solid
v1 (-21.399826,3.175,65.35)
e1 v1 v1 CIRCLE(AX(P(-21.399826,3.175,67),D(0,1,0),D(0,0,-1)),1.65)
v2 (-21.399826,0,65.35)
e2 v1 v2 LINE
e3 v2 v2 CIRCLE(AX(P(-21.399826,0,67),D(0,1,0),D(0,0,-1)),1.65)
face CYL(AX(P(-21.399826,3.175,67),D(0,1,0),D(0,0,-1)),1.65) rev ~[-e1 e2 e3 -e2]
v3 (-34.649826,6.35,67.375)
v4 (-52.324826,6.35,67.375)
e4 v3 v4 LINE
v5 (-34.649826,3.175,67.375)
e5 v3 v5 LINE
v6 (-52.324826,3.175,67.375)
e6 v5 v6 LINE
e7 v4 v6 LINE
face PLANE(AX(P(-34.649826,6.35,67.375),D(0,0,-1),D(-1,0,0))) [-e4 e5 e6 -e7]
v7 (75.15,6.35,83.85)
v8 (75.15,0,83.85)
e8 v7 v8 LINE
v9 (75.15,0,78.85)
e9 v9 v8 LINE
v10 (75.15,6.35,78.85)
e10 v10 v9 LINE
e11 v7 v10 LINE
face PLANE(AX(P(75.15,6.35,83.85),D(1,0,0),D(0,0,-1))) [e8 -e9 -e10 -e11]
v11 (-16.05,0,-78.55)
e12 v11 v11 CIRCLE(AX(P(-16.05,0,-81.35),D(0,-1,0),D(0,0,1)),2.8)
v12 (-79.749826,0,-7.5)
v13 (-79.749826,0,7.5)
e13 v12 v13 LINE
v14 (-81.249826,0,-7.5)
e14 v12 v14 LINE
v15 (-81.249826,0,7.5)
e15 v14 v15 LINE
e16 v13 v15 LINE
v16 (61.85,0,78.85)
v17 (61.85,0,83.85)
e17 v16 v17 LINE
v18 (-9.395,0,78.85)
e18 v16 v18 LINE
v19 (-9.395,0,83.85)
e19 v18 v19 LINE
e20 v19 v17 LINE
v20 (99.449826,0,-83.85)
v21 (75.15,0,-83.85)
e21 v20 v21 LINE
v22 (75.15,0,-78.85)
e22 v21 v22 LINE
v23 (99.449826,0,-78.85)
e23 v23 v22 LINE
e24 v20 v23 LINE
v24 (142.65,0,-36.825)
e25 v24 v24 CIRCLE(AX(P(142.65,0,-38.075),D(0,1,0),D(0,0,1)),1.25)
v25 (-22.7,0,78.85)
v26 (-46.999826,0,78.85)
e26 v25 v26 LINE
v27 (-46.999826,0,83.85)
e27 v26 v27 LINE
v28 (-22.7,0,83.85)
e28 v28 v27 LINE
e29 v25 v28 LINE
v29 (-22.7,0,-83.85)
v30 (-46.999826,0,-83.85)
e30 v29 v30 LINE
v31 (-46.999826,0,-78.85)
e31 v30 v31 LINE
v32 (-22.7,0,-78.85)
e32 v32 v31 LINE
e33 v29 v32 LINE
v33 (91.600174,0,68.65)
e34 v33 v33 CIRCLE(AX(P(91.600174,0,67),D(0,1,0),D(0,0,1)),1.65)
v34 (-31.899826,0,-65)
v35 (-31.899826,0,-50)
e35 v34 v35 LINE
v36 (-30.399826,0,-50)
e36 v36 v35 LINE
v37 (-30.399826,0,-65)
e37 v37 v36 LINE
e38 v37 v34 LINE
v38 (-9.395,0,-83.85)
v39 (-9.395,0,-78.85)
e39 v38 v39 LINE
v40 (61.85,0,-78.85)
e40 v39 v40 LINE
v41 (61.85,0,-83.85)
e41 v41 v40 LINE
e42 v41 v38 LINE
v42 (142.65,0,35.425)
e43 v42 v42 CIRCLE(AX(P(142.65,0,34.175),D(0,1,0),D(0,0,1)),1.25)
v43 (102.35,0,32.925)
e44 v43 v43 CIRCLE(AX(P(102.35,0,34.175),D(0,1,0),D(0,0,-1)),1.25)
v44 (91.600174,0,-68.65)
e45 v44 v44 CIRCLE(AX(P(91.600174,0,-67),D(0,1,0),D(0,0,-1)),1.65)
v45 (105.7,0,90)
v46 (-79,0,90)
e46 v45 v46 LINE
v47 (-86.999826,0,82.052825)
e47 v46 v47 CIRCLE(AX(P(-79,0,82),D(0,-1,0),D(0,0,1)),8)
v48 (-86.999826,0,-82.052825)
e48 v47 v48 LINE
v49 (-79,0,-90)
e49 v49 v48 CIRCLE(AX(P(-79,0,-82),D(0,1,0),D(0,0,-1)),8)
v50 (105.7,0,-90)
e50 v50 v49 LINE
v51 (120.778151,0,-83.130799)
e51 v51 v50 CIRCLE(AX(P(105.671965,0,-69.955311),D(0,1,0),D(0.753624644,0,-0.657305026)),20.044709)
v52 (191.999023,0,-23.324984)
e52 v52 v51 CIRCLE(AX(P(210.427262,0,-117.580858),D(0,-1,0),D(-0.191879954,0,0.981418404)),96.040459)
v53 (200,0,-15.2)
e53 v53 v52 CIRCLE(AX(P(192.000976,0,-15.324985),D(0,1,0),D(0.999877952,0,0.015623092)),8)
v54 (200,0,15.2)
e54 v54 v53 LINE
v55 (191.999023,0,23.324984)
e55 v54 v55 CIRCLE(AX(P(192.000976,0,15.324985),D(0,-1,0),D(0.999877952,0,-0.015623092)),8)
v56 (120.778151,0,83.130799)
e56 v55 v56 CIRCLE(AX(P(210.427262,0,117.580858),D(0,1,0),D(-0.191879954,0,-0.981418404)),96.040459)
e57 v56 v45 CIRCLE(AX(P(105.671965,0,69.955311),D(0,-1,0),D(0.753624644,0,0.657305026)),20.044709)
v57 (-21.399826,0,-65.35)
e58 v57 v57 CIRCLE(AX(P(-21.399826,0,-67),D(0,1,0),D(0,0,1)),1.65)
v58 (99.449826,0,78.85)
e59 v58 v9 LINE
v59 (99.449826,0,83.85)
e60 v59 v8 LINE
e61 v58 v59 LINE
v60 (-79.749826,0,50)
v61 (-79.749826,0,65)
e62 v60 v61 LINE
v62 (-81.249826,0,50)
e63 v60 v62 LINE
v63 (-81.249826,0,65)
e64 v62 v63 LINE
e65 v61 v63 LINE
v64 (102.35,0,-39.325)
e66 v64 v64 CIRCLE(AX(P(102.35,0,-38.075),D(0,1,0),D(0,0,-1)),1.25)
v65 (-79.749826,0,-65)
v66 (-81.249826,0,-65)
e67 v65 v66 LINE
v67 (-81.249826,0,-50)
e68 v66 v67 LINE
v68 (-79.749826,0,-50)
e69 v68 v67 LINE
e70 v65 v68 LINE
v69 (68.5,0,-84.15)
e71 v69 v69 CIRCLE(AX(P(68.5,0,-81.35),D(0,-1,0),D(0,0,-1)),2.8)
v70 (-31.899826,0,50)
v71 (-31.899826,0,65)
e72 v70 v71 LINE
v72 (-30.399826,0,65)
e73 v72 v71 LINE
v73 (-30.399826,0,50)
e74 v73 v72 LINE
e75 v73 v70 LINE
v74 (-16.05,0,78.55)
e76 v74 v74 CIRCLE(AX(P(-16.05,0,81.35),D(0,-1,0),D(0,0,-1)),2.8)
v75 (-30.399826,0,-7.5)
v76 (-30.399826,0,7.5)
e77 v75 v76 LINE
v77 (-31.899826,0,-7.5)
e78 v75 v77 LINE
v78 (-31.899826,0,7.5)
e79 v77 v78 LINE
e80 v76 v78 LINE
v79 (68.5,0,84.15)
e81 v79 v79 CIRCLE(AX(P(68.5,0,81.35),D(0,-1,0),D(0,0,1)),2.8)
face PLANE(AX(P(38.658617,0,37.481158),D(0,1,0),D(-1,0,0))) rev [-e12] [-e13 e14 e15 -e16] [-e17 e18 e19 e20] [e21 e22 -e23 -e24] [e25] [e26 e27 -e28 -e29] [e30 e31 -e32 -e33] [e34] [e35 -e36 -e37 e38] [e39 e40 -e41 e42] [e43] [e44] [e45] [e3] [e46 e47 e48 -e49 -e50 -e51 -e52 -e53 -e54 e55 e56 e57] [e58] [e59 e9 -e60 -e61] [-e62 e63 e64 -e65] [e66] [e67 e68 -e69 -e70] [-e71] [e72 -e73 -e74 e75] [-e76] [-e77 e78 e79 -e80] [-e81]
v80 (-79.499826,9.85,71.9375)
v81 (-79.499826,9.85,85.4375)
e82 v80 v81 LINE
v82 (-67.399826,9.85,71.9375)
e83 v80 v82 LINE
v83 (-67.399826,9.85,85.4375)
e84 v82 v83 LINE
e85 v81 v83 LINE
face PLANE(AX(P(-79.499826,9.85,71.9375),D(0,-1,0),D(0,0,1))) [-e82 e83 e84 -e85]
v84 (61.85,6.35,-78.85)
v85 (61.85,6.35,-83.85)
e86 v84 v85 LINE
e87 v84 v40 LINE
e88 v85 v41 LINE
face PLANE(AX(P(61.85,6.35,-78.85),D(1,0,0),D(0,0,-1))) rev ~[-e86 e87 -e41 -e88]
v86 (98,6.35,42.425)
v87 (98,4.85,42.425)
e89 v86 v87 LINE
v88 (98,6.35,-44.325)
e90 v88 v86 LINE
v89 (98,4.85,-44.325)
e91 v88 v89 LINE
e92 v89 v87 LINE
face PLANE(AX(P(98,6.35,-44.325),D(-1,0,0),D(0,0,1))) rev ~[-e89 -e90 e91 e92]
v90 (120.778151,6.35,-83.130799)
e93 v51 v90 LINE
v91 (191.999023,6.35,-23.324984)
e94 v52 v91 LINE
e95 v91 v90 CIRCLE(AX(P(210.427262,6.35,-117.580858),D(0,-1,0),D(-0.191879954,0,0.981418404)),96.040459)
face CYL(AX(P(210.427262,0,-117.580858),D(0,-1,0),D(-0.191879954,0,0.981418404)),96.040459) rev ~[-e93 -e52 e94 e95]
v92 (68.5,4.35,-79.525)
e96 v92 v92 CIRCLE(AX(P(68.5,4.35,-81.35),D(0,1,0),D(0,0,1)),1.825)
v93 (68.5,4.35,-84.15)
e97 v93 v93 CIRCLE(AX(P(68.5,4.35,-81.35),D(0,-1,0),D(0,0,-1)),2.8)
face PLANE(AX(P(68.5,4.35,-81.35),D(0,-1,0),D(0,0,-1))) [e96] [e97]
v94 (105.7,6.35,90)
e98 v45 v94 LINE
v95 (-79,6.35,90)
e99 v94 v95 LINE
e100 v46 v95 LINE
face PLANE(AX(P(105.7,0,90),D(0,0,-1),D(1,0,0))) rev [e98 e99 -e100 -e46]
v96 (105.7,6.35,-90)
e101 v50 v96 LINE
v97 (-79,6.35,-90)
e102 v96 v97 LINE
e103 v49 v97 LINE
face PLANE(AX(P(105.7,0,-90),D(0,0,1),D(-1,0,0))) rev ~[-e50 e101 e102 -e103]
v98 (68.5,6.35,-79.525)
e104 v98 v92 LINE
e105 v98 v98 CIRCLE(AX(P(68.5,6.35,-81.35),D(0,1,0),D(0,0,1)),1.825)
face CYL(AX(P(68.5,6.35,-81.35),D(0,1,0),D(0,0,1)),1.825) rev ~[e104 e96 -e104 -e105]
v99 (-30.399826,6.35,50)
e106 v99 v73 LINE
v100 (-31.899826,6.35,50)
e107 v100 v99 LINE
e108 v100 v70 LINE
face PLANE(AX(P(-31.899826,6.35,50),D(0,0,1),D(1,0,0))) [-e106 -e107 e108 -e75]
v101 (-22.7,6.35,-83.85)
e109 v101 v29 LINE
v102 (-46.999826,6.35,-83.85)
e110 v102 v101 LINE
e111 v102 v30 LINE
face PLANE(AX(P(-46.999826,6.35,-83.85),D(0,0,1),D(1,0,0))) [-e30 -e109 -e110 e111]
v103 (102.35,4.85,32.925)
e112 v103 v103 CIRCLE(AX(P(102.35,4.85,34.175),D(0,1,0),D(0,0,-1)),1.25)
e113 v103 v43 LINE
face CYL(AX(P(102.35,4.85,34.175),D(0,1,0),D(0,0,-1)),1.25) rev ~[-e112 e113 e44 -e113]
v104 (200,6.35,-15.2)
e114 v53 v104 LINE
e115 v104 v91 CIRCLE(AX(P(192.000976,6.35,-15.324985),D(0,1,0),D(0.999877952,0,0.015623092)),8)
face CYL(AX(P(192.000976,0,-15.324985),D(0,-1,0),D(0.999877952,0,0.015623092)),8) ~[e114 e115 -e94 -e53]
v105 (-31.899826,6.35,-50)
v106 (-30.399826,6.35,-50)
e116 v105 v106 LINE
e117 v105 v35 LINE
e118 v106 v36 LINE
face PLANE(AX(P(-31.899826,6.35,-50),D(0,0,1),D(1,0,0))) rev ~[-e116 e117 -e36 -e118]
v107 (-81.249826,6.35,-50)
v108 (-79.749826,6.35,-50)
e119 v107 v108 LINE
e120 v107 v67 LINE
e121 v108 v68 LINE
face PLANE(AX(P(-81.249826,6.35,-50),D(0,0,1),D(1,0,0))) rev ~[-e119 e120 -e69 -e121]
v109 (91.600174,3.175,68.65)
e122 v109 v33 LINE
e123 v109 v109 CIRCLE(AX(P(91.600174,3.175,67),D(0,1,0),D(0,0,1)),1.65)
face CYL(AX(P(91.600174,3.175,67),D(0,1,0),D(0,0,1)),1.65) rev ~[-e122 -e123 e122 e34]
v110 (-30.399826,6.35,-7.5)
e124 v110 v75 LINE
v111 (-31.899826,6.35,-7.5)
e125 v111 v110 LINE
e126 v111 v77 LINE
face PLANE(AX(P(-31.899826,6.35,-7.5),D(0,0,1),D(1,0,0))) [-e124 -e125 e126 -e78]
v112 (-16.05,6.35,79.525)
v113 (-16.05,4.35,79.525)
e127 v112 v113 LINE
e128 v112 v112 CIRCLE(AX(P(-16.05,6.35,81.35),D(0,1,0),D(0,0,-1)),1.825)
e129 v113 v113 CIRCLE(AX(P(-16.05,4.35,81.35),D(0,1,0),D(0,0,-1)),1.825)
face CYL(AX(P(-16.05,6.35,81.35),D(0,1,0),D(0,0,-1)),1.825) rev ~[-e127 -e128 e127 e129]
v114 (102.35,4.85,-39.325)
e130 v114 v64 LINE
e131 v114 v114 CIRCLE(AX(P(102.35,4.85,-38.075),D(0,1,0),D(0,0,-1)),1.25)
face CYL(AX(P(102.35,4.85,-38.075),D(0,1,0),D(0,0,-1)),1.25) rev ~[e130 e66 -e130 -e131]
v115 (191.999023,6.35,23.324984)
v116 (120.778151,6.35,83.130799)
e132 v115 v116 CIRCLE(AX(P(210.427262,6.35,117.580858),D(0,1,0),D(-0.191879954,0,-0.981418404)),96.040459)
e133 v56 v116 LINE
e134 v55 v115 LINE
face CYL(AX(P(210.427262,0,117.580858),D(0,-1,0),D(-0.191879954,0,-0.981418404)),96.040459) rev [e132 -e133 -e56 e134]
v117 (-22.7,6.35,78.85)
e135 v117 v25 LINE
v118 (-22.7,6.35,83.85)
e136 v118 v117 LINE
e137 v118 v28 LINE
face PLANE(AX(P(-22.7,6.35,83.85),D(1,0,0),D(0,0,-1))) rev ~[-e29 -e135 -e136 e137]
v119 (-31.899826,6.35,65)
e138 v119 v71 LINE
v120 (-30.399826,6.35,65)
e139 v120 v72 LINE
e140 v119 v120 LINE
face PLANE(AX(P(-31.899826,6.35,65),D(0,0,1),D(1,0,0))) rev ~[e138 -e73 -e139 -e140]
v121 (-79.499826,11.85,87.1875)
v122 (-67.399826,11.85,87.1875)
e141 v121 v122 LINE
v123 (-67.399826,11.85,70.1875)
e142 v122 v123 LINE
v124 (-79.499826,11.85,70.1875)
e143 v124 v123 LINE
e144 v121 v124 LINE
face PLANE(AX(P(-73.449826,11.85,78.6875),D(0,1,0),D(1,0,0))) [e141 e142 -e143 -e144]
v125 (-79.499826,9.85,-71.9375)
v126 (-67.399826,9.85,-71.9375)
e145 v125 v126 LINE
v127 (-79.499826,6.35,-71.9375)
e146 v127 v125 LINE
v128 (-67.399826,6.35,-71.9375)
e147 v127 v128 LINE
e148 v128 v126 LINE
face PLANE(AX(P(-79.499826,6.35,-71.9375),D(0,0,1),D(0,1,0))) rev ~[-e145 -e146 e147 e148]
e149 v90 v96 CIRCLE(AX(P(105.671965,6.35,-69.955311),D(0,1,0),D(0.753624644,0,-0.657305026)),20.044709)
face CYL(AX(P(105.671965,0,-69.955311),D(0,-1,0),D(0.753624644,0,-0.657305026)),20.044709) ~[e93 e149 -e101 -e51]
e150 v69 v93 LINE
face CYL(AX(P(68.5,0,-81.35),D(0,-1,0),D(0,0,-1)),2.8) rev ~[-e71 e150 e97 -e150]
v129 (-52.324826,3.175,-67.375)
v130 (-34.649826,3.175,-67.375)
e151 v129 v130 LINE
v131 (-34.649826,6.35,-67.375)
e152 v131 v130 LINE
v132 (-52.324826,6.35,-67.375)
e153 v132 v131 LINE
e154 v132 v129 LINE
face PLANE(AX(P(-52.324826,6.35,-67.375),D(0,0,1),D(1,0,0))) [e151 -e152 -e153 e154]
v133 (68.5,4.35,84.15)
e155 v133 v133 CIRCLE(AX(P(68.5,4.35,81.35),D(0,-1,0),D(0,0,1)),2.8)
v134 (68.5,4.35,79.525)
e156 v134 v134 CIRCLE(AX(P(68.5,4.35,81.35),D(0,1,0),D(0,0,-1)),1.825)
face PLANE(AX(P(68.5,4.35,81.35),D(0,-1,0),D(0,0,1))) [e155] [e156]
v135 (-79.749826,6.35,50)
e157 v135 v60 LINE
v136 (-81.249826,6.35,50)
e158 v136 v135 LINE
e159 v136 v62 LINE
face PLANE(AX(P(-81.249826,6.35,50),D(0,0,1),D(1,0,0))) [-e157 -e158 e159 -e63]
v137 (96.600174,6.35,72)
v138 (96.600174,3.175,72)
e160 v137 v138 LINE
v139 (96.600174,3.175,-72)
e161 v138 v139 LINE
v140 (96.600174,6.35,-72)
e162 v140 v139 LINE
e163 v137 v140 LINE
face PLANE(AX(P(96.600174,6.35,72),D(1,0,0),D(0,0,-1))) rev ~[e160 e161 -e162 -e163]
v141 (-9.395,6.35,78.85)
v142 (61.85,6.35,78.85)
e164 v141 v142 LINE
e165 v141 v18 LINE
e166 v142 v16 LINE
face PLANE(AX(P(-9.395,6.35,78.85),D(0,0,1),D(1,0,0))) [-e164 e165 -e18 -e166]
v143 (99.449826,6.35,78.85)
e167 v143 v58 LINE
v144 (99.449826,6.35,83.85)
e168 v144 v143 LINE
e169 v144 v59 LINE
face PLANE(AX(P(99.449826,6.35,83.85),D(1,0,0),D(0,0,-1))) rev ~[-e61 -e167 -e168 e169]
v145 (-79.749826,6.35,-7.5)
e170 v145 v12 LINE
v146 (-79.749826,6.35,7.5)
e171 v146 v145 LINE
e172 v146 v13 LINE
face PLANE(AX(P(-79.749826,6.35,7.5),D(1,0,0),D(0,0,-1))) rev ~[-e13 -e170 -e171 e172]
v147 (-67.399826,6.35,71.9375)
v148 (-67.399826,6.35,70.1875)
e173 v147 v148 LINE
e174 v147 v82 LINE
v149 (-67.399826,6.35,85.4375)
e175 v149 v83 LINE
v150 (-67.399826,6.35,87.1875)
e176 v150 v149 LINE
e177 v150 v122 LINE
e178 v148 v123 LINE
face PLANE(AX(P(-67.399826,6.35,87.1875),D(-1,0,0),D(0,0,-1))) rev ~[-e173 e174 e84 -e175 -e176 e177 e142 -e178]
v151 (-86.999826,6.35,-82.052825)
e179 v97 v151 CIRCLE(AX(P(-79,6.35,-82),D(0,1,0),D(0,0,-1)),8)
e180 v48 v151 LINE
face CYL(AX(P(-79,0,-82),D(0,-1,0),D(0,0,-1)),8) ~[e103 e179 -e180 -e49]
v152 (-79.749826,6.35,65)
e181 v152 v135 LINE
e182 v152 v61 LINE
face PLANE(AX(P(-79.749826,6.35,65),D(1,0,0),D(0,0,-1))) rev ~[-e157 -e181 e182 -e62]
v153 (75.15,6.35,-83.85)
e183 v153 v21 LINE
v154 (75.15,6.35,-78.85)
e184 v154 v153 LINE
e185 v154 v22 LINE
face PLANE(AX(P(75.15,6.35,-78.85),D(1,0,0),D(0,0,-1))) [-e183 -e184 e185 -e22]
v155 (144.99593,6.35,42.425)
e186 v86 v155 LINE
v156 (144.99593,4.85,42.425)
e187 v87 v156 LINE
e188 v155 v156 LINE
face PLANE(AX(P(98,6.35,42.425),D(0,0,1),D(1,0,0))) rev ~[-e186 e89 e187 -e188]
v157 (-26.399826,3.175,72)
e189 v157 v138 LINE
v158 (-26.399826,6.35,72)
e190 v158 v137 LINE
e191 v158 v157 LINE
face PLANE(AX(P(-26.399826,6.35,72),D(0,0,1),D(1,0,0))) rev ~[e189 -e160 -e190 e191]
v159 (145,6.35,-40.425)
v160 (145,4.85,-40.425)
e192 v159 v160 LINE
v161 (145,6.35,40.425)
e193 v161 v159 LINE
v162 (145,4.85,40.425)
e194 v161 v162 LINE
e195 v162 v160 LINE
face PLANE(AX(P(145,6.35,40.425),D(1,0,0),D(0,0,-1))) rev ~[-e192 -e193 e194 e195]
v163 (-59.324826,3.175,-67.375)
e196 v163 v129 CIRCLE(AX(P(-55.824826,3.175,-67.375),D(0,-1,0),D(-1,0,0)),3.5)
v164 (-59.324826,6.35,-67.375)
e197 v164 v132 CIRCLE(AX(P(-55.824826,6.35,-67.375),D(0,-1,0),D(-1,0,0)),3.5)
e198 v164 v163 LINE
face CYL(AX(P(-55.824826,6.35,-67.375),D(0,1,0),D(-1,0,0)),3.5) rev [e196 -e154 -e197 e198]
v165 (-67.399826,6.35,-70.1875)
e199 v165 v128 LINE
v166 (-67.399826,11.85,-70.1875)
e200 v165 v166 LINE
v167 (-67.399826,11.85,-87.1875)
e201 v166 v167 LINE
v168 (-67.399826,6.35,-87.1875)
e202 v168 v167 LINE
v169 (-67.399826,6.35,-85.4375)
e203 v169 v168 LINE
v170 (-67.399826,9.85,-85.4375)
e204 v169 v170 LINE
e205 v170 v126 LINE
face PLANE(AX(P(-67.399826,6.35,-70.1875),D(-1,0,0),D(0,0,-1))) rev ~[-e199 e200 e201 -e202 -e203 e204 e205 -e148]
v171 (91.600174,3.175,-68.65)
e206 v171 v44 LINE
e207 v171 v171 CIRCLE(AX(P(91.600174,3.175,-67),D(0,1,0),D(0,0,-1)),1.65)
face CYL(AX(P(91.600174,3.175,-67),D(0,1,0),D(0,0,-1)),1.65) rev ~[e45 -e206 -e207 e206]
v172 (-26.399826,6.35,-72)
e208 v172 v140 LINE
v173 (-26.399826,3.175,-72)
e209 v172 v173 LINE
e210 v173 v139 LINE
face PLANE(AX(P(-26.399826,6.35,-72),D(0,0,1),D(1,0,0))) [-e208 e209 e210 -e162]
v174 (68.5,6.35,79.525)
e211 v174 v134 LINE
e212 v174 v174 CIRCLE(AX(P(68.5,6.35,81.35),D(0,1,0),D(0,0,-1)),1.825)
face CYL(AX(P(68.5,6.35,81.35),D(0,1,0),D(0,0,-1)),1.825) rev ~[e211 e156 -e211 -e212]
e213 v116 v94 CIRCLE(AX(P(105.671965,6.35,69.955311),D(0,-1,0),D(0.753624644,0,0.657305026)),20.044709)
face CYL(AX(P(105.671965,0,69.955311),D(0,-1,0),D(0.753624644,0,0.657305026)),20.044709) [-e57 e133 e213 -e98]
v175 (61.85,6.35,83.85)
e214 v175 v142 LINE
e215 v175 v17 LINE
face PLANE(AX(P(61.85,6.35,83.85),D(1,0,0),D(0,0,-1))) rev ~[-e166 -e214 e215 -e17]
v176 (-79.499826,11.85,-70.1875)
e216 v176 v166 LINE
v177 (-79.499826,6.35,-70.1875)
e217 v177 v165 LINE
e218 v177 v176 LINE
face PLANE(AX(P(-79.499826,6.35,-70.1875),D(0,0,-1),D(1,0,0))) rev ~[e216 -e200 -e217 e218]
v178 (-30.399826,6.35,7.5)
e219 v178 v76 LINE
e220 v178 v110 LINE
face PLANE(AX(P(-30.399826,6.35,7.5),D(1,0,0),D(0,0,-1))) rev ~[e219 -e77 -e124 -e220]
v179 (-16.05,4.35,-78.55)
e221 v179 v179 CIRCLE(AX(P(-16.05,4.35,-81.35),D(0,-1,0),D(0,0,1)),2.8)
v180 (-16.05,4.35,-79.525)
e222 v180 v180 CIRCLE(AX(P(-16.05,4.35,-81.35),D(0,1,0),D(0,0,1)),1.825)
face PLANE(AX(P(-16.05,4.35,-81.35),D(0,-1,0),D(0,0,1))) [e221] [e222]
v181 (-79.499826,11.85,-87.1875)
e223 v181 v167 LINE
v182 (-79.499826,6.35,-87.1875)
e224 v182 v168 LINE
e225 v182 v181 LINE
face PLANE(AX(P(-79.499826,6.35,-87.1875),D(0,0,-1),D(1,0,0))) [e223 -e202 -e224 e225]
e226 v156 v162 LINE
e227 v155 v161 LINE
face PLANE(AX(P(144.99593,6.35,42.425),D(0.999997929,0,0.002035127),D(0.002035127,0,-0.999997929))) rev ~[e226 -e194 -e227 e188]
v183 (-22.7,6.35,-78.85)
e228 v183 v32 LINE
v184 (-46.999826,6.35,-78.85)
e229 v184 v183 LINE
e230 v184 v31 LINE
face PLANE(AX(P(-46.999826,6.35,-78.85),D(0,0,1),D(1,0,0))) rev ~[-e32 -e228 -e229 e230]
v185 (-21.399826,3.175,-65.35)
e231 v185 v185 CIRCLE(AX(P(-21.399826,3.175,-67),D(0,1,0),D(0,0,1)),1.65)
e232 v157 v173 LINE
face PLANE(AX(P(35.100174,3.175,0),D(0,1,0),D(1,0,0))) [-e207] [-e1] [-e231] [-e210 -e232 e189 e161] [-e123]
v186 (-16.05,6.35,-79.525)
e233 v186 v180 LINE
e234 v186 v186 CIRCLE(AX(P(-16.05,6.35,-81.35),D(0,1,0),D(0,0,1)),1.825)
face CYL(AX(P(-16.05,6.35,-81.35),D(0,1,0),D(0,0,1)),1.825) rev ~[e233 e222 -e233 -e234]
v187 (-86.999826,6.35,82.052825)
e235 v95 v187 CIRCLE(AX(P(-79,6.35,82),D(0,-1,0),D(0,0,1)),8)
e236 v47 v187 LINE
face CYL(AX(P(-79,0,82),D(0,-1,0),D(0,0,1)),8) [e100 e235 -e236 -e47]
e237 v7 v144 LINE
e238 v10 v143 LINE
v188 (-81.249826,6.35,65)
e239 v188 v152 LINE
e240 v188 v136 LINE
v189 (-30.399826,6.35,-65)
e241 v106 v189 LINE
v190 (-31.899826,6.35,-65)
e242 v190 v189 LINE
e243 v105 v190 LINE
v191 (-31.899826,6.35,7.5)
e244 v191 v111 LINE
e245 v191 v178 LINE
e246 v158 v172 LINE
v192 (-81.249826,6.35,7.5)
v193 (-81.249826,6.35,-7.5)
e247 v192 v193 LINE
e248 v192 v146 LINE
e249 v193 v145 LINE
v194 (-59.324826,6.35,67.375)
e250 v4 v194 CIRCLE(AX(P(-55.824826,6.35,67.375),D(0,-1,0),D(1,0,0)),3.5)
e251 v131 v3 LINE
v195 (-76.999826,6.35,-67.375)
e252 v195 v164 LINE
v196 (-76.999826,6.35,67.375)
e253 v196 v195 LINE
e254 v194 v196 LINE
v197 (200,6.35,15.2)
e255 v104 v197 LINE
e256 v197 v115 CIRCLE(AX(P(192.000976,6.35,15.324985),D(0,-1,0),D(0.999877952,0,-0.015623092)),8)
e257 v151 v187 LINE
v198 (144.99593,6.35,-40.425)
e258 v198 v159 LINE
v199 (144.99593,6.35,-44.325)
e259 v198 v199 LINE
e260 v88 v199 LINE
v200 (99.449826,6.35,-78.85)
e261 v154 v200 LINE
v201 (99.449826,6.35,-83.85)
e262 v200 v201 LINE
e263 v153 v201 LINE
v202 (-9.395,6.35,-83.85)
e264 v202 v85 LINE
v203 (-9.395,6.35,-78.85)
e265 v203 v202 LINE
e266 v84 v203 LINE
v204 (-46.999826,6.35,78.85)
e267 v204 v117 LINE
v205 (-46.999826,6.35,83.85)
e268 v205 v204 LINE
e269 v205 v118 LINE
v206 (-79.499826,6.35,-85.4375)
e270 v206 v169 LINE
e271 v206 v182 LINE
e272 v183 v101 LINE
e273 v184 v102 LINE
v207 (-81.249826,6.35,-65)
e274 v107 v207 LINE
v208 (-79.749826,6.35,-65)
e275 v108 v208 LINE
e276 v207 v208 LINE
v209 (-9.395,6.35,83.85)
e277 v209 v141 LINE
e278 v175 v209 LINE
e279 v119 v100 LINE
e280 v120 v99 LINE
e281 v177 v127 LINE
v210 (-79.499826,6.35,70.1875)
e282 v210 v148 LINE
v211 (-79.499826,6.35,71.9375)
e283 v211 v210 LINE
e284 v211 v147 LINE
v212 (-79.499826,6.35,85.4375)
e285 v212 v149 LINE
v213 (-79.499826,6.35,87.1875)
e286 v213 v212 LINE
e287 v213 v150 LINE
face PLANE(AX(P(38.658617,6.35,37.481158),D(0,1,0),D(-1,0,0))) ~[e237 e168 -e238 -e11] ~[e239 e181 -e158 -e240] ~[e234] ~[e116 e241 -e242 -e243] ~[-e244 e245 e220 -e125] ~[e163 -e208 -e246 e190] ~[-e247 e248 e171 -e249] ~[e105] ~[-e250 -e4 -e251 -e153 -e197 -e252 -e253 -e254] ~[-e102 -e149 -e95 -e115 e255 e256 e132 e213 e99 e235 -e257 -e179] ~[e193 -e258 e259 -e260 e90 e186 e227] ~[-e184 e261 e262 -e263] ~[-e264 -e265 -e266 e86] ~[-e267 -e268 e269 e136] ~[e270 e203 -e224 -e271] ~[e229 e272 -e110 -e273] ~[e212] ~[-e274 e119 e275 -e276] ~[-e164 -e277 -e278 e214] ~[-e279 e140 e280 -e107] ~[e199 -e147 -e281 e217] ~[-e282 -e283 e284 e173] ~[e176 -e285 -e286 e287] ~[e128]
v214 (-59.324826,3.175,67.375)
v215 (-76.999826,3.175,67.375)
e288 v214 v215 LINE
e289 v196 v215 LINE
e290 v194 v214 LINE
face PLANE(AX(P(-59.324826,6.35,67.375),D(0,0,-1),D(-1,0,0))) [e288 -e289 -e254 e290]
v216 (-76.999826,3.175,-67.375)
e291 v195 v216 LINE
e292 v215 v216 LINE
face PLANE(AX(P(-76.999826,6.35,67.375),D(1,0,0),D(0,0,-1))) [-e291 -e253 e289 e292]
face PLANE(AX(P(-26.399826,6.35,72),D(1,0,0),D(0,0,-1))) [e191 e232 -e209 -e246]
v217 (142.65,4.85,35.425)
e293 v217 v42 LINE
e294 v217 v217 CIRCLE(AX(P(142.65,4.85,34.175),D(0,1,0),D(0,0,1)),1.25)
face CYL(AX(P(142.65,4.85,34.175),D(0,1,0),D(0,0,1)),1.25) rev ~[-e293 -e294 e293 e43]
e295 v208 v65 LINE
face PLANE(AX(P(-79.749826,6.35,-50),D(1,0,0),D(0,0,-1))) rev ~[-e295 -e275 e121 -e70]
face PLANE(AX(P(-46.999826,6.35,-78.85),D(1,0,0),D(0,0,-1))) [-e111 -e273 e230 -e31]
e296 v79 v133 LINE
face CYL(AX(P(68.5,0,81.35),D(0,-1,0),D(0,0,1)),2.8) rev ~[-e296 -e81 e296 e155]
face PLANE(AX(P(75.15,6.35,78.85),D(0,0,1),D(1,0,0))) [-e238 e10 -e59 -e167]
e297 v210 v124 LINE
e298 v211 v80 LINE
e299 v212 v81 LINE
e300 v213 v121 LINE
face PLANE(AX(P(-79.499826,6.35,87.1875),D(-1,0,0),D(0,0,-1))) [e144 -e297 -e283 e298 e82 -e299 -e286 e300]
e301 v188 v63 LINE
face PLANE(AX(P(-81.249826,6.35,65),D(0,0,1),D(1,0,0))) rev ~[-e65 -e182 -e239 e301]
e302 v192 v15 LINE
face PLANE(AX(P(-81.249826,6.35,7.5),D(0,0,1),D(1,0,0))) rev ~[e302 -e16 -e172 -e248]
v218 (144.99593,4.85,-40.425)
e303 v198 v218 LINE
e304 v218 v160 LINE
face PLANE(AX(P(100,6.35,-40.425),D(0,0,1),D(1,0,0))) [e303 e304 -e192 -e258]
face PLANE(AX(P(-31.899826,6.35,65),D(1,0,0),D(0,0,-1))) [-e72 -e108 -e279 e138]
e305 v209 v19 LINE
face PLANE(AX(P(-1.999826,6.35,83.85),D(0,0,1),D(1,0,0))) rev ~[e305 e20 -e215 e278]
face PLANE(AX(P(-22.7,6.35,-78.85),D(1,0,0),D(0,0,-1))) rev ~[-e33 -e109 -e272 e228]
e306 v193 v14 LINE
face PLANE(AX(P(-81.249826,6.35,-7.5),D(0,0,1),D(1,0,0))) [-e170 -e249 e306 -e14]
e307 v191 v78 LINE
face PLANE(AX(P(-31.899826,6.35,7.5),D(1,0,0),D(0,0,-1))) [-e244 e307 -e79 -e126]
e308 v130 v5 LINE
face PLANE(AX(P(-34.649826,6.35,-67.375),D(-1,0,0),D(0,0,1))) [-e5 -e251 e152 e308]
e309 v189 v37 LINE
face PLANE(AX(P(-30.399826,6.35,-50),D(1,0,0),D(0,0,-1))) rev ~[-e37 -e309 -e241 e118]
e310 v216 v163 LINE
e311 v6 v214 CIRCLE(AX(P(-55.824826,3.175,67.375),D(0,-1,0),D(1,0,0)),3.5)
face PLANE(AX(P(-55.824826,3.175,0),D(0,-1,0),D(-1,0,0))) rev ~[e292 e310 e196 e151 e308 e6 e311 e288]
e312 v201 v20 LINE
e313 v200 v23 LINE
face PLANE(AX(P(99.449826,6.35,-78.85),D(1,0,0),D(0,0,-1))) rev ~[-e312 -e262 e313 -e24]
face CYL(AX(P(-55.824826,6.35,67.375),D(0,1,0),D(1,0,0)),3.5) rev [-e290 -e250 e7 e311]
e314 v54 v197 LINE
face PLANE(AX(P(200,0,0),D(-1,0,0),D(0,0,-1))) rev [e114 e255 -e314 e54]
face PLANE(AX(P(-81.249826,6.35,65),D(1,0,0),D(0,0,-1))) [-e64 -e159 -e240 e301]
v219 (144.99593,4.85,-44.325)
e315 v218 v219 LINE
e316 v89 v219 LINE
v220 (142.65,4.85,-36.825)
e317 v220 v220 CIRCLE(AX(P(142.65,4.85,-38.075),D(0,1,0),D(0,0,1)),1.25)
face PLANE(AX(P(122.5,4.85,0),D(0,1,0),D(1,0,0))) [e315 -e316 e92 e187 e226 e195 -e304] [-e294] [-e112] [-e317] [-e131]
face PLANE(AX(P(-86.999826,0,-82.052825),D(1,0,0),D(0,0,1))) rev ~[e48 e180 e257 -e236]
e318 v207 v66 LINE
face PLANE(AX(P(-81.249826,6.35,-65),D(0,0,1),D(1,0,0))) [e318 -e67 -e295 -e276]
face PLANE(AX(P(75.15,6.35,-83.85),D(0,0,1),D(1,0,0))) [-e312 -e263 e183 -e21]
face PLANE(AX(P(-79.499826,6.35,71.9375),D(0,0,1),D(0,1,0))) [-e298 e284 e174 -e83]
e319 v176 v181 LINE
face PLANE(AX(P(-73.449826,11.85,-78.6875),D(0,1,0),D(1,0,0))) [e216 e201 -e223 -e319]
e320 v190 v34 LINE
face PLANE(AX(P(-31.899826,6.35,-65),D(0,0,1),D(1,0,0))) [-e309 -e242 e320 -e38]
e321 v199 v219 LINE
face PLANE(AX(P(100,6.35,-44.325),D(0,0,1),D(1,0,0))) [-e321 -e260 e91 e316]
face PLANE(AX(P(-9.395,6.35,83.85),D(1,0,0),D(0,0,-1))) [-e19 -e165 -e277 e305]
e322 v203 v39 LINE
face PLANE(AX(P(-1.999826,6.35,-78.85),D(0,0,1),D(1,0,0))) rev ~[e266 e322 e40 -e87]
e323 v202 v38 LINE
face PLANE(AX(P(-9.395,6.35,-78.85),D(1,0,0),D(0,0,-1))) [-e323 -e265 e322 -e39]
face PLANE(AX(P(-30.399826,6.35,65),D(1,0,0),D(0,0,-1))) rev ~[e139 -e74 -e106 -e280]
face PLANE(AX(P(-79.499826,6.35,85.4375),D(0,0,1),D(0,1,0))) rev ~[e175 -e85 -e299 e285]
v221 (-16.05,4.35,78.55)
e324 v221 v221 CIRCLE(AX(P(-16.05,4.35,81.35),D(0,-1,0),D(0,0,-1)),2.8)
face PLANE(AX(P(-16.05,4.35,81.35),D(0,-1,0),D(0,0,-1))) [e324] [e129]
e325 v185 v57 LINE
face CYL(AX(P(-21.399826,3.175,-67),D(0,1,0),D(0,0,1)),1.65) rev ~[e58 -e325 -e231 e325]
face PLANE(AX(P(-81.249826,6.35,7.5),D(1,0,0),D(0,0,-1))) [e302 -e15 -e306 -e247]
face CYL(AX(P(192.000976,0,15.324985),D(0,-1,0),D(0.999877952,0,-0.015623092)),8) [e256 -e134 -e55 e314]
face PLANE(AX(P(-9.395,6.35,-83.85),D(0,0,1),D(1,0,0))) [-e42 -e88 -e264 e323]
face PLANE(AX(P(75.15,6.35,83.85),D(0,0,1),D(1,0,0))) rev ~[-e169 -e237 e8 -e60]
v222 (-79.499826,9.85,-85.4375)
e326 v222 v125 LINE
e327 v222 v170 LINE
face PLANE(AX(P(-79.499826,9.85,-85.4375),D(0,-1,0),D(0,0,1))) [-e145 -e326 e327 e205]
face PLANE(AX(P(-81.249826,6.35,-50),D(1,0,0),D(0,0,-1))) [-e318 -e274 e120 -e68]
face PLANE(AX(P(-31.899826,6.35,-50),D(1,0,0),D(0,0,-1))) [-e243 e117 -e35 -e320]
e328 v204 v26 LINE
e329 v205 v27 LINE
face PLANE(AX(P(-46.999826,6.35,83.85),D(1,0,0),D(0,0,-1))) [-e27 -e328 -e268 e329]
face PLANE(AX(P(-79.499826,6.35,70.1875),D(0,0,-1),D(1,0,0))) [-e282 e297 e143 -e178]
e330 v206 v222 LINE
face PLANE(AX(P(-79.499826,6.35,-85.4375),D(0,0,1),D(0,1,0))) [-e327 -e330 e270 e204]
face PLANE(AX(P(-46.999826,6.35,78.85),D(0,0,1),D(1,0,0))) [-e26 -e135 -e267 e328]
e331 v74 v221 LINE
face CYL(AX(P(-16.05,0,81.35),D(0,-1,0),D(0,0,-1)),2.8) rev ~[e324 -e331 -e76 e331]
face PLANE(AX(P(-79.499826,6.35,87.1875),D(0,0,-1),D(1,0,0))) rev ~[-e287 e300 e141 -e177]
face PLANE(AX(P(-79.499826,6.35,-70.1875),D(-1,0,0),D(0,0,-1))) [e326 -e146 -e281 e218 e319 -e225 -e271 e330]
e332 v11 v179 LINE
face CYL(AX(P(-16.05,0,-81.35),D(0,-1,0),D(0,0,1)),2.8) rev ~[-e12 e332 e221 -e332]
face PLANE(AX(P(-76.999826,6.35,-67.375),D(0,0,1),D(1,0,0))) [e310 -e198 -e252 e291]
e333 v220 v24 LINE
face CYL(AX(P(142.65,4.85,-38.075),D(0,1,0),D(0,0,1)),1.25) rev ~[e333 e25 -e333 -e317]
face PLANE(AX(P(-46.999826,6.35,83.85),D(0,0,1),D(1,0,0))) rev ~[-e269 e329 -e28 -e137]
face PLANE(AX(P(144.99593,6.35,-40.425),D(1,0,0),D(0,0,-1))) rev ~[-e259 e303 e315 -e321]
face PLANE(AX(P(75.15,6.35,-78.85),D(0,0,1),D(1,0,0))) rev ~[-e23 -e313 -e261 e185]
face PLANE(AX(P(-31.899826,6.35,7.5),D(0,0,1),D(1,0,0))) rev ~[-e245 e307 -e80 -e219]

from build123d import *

# Parameters (mm, degrees)
SALIENTE_EXTRUIR1_DEPTH = 6.35
CROQUIS2_R              = 1.825
CROQUIS2_W              = 63.849825594
CROQUIS2_H              = 5
CROQUIS2_W_2            = 24.299825594
CORTAR_EXTRUIR1_DEPTH   = 220.409920137
CORTAR_EXTRUIR2_DEPTH   = 3.175
CROQUIS4_W              = 45
CROQUIS4_H              = 80.85
CORTAR_EXTRUIR3_DEPTH   = 1.5
CROQUIS5_R              = 1.25
CORTAR_EXTRUIR4_DEPTH   = 220.371632292
CROQUIS7_W              = 44.995929737
CROQUIS7_H              = 3.9
CORTAR_EXTRUIR5_DEPTH   = 1.5
CROQUIS8_W              = 1.5
CROQUIS8_H              = 15
CORTAR_EXTRUIR6_DEPTH   = 220.409920137
CROQUIS9_W              = 123
CROQUIS9_H              = 144
CORTAR_EXTRUIR7_DEPTH   = 3.175
CROQUIS10_R             = 2.8
CORTAR_EXTRUIR8_DEPTH   = 4.35
CROQUIS11_R             = 1.65
CORTAR_EXTRUIR9_DEPTH   = 220.34099293
CROQUIS13_W             = 12.1
CROQUIS13_H             = 17
SALIENTE_EXTRUIR2_DEPTH = 5.5
CROQUIS14_W             = 13.5
CROQUIS14_H             = 3.5
CORTAR_EXTRUIR10_DEPTH  = 12.1
CROQUIS15_W             = 13.5
CROQUIS15_H             = 3.5
CORTAR_EXTRUIR11_DEPTH  = 12.1
CORTAR_EXTRUIR12_DEPTH  = 220.409920137
CORTAR_EXTRUIR15_DEPTH  = 1.5
CROQUIS19_W             = 7.395174406
CROQUIS19_H             = 5
CORTAR_EXTRUIR16_DEPTH  = 220.409920137


with BuildPart() as part:
    # Croquis1 → Saliente-Extruir1 (new body)
    with BuildSketch(Plane(origin=(0, 0, 0), x_dir=(1, 0, 0), z_dir=(0, 1, 0))):
        with BuildLine():
            Line((0, 0), (200, 0))
            Line((200, 0), (200, 15.2))
            ThreePointArc((200, 15.2), (197.701163079, 20.938172036), (191.9990235, 23.3249845))
            ThreePointArc((191.9990235, 23.3249845), (148.666739026, 44.032184001), (120.7781513, 83.1307986))
            ThreePointArc((120.7781513, 83.1307986), (113.982057966, 88.196272982), (105.7, 90))
            Line((105.7, 90), (0, 90))
            Line((0, 90), (-79, 90))
            ThreePointArc((-79, 90), (-84.638146896, 87.675499941), (-86.999825594, 82.052824894))
            Line((-86.999825594, 82.052824894), (-86.999825594, 41.494023494))
            ThreePointArc((-86.999825594, 41.494023494), (-92.052704294, 29.329564667), (-102.353503833, 21.119864881))
            ThreePointArc((-102.353503833, 21.119864881), (-108.040391417, 18.79326931), (-110.4, 13.12))
            Line((-110.4, 13.12), (-110.4, 0))
            Line((-110.4, 0), (0, 0))
        make_face()
    extrude(amount=SALIENTE_EXTRUIR1_DEPTH)

    # Simetría2: part across plane


with BuildPart() as part_1:
    add(part.part)
    add(part.part.mirror(Plane(origin=(0, 6.35, 0), x_dir=(1, 0, 0), z_dir=(0, 0, -1))))

    # Croquis2 → Cortar-Extruir1 (cut, through all)
    with BuildSketch(Plane(origin=(0, 6.35, 0), x_dir=(1, 0, 0), z_dir=(0, 1, 0))):
        with Locations(Location((68.5, 81.35, 0), (0, 0, 270))):
            Circle(CROQUIS2_R)
        with Locations(Location((-16.05, 81.35, 0), (0, 0, 270))):
            Circle(CROQUIS2_R)
        with Locations(Location((68.5, -81.35, 0), (0, 0, 90))):
            Circle(CROQUIS2_R)
        with Locations(Location((-16.05, -81.35, 0), (0, 0, 90))):
            Circle(CROQUIS2_R)
        with Locations((29.925087203, -81.35)):
            Rectangle(CROQUIS2_W, CROQUIS2_H)
        with Locations((-34.849912797, -81.35)):
            Rectangle(CROQUIS2_W_2, CROQUIS2_H)
        with Locations((87.299912797, -81.35)):
            Rectangle(CROQUIS2_W_2, CROQUIS2_H)
        with Locations((-34.849912797, 81.35)):
            Rectangle(CROQUIS2_W_2, CROQUIS2_H)
        with Locations((29.925087203, 81.35)):
            Rectangle(CROQUIS2_W, CROQUIS2_H)
        with Locations((87.299912797, 81.35)):
            Rectangle(CROQUIS2_W_2, CROQUIS2_H)
    extrude(amount=-CORTAR_EXTRUIR1_DEPTH, mode=Mode.SUBTRACT)

    # Croquis3 → Cortar-Extruir2 (cut)
    with BuildSketch(Plane(origin=(0, 6.35, 0), x_dir=(1, 0, 0), z_dir=(0, 1, 0))):
        with BuildLine():
            Line((-76.999825594, 67.375), (-59.324825594, 67.375))
            ThreePointArc((-59.324825594, 67.375), (-55.824825594, 70.875), (-52.324825594, 67.375))
            Line((-52.324825594, 67.375), (-34.649825594, 67.375))
            Line((-34.649825594, 67.375), (-34.649825594, -67.375))
            Line((-34.649825594, -67.375), (-52.324825594, -67.375))
            ThreePointArc((-52.324825594, -67.375), (-55.824825594, -70.875), (-59.324825594, -67.375))
            Line((-59.324825594, -67.375), (-76.999825594, -67.375))
            Line((-76.999825594, -67.375), (-76.999825594, 67.375))
        make_face()
    extrude(amount=-CORTAR_EXTRUIR2_DEPTH, mode=Mode.SUBTRACT)

    # Croquis4 → Cortar-Extruir3 (cut)
    with BuildSketch(Plane(origin=(0, 6.35, 0), x_dir=(1, 0, 0), z_dir=(0, 1, 0))):
        with Locations((122.5, 0)):
            Rectangle(CROQUIS4_W, CROQUIS4_H)
    extrude(amount=-CORTAR_EXTRUIR3_DEPTH, mode=Mode.SUBTRACT)

    # Croquis5 → Cortar-Extruir4 (cut, through all)
    with BuildSketch(Plane(origin=(0, 4.85, 0), x_dir=(1, 0, 0), z_dir=(0, 1, 0))):
        with Locations(Location((142.65, -34.175, 0), (0, 0, 270))):
            Circle(CROQUIS5_R)
        with Locations(Location((102.35, -34.175, 0), (0, 0, 90))):
            Circle(CROQUIS5_R)
        with Locations(Location((142.65, 38.075, 0), (0, 0, 270))):
            Circle(CROQUIS5_R)
        with Locations(Location((102.35, 38.075, 0), (0, 0, 90))):
            Circle(CROQUIS5_R)
    extrude(amount=-CORTAR_EXTRUIR4_DEPTH, mode=Mode.SUBTRACT)

    # Croquis7 → Cortar-Extruir5 (cut)
    with BuildSketch(Plane(origin=(0, 6.35, 0), x_dir=(1, 0, 0), z_dir=(0, 1, 0))):
        with Locations((122.497964869, 42.375)):
            Rectangle(CROQUIS7_W, CROQUIS7_H)
    extrude(amount=-CORTAR_EXTRUIR5_DEPTH, mode=Mode.SUBTRACT)

    # Croquis8 → Cortar-Extruir6 (cut, through all)
    with BuildSketch(Plane(origin=(0, 6.35, 0), x_dir=(1, 0, 0), z_dir=(0, 1, 0))):
        with Locations((-80.499825594, -57.5)):
            Rectangle(CROQUIS8_W, CROQUIS8_H)
        with Locations((-80.499825594, 57.5)):
            Rectangle(CROQUIS8_W, CROQUIS8_H)
        with Locations((-31.149825594, -57.5)):
            Rectangle(CROQUIS8_W, CROQUIS8_H)
        with Locations((-80.499825594, 0)):
            Rectangle(CROQUIS8_W, CROQUIS8_H)
        with Locations((-31.149825594, 0)):
            Rectangle(CROQUIS8_W, CROQUIS8_H)
        with Locations((-31.149825594, 57.5)):
            Rectangle(CROQUIS8_W, CROQUIS8_H)
    extrude(amount=-CORTAR_EXTRUIR6_DEPTH, mode=Mode.SUBTRACT)

    # Croquis9 → Cortar-Extruir7 (cut)
    with BuildSketch(Plane(origin=(0, 6.35, 0), x_dir=(1, 0, 0), z_dir=(0, 1, 0))):
        with Locations((35.100174406, 0)):
            Rectangle(CROQUIS9_W, CROQUIS9_H)
    extrude(amount=-CORTAR_EXTRUIR7_DEPTH, mode=Mode.SUBTRACT)

    # Croquis10 → Cortar-Extruir8 (cut)
    with BuildSketch(Plane.XZ):
        with Locations(Location((-16.05, 81.35, 0), (0, 0, 270))):
            Circle(CROQUIS10_R)
        with Locations(Location((-16.05, -81.35, 0), (0, 0, 90))):
            Circle(CROQUIS10_R)
        with Locations(Location((68.5, -81.35, 0), (0, 0, 270))):
            Circle(CROQUIS10_R)
        with Locations(Location((68.5, 81.35, 0), (0, 0, 90))):
            Circle(CROQUIS10_R)
    extrude(amount=-CORTAR_EXTRUIR8_DEPTH, mode=Mode.SUBTRACT)

    # Croquis11 → Cortar-Extruir9 (cut, through all)
    with BuildSketch(Plane(origin=(0, 3.175, 0), x_dir=(1, 0, 0), z_dir=(0, 1, 0))):
        with Locations(Location((-21.399825594, 67, 0), (0, 0, 270))):
            Circle(CROQUIS11_R)
        with Locations(Location((91.600174406, 67, 0), (0, 0, 90))):
            Circle(CROQUIS11_R)
        with Locations(Location((91.600174406, -67, 0), (0, 0, 270))):
            Circle(CROQUIS11_R)
        with Locations(Location((-21.399825594, -67, 0), (0, 0, 90))):
            Circle(CROQUIS11_R)
    extrude(amount=-CORTAR_EXTRUIR9_DEPTH, mode=Mode.SUBTRACT)

    # Croquis13 → Saliente-Extruir2 (add)
    with BuildSketch(Plane(origin=(0, 6.35, 0), x_dir=(1, 0, 0), z_dir=(0, 1, 0))):
        with Locations((-73.449825594, 78.6875)):
            Rectangle(CROQUIS13_W, CROQUIS13_H)
        with Locations((-73.449825594, -78.6875)):
            Rectangle(CROQUIS13_W, CROQUIS13_H)
    extrude(amount=SALIENTE_EXTRUIR2_DEPTH)

    # Croquis14 → Cortar-Extruir10 (cut)
    with BuildSketch(Plane.ZY.offset(79.499825594)):
        with Locations((78.6875, 8.1)):
            Rectangle(CROQUIS14_W, CROQUIS14_H)
    extrude(amount=-CORTAR_EXTRUIR10_DEPTH, mode=Mode.SUBTRACT)

    # Croquis15 → Cortar-Extruir11 (cut)
    with BuildSketch(Plane.ZY.offset(79.499825594)):
        with Locations((-78.6875, 8.1)):
            Rectangle(CROQUIS15_W, CROQUIS15_H)
    extrude(amount=-CORTAR_EXTRUIR11_DEPTH, mode=Mode.SUBTRACT)

    # Croquis16 → Cortar-Extruir12 (cut, through all)
    with BuildSketch(Plane(origin=(0, 6.35, 0), x_dir=(1, 0, 0), z_dir=(0, 1, 0))):
        Polygon((-86.999825594, 41.494023494), (-110.4, 41.494023494), (-110.4, 13.12), (-110.4, -13.12), (-110.4, -41.494023494), (-86.999825594, -41.494023494), align=None)
    extrude(amount=-CORTAR_EXTRUIR12_DEPTH, mode=Mode.SUBTRACT)

    # Croquis18 → Cortar-Extruir15 (cut)
    with BuildSketch(Plane(origin=(0, 6.35, 0), x_dir=(1, 0, 0), z_dir=(0, 1, 0))):
        Polygon((100, 44.325), (98, 44.325), (98, -42.425), (144.995929737, -42.425), (145, -40.425), (100, -40.425), align=None)
    extrude(amount=-CORTAR_EXTRUIR15_DEPTH, mode=Mode.SUBTRACT)

    # Croquis19 → Cortar-Extruir16 (cut, through all)
    with BuildSketch(Plane(origin=(0, 6.35, 0), x_dir=(1, 0, 0), z_dir=(0, 1, 0))):
        with Locations((-5.697412797, 81.35)):
            Rectangle(CROQUIS19_W, CROQUIS19_H)
        with Locations((-5.697412797, -81.35)):
            Rectangle(CROQUIS19_W, CROQUIS19_H)
    extrude(amount=-CORTAR_EXTRUIR16_DEPTH, mode=Mode.SUBTRACT)


solid = part_1.part
